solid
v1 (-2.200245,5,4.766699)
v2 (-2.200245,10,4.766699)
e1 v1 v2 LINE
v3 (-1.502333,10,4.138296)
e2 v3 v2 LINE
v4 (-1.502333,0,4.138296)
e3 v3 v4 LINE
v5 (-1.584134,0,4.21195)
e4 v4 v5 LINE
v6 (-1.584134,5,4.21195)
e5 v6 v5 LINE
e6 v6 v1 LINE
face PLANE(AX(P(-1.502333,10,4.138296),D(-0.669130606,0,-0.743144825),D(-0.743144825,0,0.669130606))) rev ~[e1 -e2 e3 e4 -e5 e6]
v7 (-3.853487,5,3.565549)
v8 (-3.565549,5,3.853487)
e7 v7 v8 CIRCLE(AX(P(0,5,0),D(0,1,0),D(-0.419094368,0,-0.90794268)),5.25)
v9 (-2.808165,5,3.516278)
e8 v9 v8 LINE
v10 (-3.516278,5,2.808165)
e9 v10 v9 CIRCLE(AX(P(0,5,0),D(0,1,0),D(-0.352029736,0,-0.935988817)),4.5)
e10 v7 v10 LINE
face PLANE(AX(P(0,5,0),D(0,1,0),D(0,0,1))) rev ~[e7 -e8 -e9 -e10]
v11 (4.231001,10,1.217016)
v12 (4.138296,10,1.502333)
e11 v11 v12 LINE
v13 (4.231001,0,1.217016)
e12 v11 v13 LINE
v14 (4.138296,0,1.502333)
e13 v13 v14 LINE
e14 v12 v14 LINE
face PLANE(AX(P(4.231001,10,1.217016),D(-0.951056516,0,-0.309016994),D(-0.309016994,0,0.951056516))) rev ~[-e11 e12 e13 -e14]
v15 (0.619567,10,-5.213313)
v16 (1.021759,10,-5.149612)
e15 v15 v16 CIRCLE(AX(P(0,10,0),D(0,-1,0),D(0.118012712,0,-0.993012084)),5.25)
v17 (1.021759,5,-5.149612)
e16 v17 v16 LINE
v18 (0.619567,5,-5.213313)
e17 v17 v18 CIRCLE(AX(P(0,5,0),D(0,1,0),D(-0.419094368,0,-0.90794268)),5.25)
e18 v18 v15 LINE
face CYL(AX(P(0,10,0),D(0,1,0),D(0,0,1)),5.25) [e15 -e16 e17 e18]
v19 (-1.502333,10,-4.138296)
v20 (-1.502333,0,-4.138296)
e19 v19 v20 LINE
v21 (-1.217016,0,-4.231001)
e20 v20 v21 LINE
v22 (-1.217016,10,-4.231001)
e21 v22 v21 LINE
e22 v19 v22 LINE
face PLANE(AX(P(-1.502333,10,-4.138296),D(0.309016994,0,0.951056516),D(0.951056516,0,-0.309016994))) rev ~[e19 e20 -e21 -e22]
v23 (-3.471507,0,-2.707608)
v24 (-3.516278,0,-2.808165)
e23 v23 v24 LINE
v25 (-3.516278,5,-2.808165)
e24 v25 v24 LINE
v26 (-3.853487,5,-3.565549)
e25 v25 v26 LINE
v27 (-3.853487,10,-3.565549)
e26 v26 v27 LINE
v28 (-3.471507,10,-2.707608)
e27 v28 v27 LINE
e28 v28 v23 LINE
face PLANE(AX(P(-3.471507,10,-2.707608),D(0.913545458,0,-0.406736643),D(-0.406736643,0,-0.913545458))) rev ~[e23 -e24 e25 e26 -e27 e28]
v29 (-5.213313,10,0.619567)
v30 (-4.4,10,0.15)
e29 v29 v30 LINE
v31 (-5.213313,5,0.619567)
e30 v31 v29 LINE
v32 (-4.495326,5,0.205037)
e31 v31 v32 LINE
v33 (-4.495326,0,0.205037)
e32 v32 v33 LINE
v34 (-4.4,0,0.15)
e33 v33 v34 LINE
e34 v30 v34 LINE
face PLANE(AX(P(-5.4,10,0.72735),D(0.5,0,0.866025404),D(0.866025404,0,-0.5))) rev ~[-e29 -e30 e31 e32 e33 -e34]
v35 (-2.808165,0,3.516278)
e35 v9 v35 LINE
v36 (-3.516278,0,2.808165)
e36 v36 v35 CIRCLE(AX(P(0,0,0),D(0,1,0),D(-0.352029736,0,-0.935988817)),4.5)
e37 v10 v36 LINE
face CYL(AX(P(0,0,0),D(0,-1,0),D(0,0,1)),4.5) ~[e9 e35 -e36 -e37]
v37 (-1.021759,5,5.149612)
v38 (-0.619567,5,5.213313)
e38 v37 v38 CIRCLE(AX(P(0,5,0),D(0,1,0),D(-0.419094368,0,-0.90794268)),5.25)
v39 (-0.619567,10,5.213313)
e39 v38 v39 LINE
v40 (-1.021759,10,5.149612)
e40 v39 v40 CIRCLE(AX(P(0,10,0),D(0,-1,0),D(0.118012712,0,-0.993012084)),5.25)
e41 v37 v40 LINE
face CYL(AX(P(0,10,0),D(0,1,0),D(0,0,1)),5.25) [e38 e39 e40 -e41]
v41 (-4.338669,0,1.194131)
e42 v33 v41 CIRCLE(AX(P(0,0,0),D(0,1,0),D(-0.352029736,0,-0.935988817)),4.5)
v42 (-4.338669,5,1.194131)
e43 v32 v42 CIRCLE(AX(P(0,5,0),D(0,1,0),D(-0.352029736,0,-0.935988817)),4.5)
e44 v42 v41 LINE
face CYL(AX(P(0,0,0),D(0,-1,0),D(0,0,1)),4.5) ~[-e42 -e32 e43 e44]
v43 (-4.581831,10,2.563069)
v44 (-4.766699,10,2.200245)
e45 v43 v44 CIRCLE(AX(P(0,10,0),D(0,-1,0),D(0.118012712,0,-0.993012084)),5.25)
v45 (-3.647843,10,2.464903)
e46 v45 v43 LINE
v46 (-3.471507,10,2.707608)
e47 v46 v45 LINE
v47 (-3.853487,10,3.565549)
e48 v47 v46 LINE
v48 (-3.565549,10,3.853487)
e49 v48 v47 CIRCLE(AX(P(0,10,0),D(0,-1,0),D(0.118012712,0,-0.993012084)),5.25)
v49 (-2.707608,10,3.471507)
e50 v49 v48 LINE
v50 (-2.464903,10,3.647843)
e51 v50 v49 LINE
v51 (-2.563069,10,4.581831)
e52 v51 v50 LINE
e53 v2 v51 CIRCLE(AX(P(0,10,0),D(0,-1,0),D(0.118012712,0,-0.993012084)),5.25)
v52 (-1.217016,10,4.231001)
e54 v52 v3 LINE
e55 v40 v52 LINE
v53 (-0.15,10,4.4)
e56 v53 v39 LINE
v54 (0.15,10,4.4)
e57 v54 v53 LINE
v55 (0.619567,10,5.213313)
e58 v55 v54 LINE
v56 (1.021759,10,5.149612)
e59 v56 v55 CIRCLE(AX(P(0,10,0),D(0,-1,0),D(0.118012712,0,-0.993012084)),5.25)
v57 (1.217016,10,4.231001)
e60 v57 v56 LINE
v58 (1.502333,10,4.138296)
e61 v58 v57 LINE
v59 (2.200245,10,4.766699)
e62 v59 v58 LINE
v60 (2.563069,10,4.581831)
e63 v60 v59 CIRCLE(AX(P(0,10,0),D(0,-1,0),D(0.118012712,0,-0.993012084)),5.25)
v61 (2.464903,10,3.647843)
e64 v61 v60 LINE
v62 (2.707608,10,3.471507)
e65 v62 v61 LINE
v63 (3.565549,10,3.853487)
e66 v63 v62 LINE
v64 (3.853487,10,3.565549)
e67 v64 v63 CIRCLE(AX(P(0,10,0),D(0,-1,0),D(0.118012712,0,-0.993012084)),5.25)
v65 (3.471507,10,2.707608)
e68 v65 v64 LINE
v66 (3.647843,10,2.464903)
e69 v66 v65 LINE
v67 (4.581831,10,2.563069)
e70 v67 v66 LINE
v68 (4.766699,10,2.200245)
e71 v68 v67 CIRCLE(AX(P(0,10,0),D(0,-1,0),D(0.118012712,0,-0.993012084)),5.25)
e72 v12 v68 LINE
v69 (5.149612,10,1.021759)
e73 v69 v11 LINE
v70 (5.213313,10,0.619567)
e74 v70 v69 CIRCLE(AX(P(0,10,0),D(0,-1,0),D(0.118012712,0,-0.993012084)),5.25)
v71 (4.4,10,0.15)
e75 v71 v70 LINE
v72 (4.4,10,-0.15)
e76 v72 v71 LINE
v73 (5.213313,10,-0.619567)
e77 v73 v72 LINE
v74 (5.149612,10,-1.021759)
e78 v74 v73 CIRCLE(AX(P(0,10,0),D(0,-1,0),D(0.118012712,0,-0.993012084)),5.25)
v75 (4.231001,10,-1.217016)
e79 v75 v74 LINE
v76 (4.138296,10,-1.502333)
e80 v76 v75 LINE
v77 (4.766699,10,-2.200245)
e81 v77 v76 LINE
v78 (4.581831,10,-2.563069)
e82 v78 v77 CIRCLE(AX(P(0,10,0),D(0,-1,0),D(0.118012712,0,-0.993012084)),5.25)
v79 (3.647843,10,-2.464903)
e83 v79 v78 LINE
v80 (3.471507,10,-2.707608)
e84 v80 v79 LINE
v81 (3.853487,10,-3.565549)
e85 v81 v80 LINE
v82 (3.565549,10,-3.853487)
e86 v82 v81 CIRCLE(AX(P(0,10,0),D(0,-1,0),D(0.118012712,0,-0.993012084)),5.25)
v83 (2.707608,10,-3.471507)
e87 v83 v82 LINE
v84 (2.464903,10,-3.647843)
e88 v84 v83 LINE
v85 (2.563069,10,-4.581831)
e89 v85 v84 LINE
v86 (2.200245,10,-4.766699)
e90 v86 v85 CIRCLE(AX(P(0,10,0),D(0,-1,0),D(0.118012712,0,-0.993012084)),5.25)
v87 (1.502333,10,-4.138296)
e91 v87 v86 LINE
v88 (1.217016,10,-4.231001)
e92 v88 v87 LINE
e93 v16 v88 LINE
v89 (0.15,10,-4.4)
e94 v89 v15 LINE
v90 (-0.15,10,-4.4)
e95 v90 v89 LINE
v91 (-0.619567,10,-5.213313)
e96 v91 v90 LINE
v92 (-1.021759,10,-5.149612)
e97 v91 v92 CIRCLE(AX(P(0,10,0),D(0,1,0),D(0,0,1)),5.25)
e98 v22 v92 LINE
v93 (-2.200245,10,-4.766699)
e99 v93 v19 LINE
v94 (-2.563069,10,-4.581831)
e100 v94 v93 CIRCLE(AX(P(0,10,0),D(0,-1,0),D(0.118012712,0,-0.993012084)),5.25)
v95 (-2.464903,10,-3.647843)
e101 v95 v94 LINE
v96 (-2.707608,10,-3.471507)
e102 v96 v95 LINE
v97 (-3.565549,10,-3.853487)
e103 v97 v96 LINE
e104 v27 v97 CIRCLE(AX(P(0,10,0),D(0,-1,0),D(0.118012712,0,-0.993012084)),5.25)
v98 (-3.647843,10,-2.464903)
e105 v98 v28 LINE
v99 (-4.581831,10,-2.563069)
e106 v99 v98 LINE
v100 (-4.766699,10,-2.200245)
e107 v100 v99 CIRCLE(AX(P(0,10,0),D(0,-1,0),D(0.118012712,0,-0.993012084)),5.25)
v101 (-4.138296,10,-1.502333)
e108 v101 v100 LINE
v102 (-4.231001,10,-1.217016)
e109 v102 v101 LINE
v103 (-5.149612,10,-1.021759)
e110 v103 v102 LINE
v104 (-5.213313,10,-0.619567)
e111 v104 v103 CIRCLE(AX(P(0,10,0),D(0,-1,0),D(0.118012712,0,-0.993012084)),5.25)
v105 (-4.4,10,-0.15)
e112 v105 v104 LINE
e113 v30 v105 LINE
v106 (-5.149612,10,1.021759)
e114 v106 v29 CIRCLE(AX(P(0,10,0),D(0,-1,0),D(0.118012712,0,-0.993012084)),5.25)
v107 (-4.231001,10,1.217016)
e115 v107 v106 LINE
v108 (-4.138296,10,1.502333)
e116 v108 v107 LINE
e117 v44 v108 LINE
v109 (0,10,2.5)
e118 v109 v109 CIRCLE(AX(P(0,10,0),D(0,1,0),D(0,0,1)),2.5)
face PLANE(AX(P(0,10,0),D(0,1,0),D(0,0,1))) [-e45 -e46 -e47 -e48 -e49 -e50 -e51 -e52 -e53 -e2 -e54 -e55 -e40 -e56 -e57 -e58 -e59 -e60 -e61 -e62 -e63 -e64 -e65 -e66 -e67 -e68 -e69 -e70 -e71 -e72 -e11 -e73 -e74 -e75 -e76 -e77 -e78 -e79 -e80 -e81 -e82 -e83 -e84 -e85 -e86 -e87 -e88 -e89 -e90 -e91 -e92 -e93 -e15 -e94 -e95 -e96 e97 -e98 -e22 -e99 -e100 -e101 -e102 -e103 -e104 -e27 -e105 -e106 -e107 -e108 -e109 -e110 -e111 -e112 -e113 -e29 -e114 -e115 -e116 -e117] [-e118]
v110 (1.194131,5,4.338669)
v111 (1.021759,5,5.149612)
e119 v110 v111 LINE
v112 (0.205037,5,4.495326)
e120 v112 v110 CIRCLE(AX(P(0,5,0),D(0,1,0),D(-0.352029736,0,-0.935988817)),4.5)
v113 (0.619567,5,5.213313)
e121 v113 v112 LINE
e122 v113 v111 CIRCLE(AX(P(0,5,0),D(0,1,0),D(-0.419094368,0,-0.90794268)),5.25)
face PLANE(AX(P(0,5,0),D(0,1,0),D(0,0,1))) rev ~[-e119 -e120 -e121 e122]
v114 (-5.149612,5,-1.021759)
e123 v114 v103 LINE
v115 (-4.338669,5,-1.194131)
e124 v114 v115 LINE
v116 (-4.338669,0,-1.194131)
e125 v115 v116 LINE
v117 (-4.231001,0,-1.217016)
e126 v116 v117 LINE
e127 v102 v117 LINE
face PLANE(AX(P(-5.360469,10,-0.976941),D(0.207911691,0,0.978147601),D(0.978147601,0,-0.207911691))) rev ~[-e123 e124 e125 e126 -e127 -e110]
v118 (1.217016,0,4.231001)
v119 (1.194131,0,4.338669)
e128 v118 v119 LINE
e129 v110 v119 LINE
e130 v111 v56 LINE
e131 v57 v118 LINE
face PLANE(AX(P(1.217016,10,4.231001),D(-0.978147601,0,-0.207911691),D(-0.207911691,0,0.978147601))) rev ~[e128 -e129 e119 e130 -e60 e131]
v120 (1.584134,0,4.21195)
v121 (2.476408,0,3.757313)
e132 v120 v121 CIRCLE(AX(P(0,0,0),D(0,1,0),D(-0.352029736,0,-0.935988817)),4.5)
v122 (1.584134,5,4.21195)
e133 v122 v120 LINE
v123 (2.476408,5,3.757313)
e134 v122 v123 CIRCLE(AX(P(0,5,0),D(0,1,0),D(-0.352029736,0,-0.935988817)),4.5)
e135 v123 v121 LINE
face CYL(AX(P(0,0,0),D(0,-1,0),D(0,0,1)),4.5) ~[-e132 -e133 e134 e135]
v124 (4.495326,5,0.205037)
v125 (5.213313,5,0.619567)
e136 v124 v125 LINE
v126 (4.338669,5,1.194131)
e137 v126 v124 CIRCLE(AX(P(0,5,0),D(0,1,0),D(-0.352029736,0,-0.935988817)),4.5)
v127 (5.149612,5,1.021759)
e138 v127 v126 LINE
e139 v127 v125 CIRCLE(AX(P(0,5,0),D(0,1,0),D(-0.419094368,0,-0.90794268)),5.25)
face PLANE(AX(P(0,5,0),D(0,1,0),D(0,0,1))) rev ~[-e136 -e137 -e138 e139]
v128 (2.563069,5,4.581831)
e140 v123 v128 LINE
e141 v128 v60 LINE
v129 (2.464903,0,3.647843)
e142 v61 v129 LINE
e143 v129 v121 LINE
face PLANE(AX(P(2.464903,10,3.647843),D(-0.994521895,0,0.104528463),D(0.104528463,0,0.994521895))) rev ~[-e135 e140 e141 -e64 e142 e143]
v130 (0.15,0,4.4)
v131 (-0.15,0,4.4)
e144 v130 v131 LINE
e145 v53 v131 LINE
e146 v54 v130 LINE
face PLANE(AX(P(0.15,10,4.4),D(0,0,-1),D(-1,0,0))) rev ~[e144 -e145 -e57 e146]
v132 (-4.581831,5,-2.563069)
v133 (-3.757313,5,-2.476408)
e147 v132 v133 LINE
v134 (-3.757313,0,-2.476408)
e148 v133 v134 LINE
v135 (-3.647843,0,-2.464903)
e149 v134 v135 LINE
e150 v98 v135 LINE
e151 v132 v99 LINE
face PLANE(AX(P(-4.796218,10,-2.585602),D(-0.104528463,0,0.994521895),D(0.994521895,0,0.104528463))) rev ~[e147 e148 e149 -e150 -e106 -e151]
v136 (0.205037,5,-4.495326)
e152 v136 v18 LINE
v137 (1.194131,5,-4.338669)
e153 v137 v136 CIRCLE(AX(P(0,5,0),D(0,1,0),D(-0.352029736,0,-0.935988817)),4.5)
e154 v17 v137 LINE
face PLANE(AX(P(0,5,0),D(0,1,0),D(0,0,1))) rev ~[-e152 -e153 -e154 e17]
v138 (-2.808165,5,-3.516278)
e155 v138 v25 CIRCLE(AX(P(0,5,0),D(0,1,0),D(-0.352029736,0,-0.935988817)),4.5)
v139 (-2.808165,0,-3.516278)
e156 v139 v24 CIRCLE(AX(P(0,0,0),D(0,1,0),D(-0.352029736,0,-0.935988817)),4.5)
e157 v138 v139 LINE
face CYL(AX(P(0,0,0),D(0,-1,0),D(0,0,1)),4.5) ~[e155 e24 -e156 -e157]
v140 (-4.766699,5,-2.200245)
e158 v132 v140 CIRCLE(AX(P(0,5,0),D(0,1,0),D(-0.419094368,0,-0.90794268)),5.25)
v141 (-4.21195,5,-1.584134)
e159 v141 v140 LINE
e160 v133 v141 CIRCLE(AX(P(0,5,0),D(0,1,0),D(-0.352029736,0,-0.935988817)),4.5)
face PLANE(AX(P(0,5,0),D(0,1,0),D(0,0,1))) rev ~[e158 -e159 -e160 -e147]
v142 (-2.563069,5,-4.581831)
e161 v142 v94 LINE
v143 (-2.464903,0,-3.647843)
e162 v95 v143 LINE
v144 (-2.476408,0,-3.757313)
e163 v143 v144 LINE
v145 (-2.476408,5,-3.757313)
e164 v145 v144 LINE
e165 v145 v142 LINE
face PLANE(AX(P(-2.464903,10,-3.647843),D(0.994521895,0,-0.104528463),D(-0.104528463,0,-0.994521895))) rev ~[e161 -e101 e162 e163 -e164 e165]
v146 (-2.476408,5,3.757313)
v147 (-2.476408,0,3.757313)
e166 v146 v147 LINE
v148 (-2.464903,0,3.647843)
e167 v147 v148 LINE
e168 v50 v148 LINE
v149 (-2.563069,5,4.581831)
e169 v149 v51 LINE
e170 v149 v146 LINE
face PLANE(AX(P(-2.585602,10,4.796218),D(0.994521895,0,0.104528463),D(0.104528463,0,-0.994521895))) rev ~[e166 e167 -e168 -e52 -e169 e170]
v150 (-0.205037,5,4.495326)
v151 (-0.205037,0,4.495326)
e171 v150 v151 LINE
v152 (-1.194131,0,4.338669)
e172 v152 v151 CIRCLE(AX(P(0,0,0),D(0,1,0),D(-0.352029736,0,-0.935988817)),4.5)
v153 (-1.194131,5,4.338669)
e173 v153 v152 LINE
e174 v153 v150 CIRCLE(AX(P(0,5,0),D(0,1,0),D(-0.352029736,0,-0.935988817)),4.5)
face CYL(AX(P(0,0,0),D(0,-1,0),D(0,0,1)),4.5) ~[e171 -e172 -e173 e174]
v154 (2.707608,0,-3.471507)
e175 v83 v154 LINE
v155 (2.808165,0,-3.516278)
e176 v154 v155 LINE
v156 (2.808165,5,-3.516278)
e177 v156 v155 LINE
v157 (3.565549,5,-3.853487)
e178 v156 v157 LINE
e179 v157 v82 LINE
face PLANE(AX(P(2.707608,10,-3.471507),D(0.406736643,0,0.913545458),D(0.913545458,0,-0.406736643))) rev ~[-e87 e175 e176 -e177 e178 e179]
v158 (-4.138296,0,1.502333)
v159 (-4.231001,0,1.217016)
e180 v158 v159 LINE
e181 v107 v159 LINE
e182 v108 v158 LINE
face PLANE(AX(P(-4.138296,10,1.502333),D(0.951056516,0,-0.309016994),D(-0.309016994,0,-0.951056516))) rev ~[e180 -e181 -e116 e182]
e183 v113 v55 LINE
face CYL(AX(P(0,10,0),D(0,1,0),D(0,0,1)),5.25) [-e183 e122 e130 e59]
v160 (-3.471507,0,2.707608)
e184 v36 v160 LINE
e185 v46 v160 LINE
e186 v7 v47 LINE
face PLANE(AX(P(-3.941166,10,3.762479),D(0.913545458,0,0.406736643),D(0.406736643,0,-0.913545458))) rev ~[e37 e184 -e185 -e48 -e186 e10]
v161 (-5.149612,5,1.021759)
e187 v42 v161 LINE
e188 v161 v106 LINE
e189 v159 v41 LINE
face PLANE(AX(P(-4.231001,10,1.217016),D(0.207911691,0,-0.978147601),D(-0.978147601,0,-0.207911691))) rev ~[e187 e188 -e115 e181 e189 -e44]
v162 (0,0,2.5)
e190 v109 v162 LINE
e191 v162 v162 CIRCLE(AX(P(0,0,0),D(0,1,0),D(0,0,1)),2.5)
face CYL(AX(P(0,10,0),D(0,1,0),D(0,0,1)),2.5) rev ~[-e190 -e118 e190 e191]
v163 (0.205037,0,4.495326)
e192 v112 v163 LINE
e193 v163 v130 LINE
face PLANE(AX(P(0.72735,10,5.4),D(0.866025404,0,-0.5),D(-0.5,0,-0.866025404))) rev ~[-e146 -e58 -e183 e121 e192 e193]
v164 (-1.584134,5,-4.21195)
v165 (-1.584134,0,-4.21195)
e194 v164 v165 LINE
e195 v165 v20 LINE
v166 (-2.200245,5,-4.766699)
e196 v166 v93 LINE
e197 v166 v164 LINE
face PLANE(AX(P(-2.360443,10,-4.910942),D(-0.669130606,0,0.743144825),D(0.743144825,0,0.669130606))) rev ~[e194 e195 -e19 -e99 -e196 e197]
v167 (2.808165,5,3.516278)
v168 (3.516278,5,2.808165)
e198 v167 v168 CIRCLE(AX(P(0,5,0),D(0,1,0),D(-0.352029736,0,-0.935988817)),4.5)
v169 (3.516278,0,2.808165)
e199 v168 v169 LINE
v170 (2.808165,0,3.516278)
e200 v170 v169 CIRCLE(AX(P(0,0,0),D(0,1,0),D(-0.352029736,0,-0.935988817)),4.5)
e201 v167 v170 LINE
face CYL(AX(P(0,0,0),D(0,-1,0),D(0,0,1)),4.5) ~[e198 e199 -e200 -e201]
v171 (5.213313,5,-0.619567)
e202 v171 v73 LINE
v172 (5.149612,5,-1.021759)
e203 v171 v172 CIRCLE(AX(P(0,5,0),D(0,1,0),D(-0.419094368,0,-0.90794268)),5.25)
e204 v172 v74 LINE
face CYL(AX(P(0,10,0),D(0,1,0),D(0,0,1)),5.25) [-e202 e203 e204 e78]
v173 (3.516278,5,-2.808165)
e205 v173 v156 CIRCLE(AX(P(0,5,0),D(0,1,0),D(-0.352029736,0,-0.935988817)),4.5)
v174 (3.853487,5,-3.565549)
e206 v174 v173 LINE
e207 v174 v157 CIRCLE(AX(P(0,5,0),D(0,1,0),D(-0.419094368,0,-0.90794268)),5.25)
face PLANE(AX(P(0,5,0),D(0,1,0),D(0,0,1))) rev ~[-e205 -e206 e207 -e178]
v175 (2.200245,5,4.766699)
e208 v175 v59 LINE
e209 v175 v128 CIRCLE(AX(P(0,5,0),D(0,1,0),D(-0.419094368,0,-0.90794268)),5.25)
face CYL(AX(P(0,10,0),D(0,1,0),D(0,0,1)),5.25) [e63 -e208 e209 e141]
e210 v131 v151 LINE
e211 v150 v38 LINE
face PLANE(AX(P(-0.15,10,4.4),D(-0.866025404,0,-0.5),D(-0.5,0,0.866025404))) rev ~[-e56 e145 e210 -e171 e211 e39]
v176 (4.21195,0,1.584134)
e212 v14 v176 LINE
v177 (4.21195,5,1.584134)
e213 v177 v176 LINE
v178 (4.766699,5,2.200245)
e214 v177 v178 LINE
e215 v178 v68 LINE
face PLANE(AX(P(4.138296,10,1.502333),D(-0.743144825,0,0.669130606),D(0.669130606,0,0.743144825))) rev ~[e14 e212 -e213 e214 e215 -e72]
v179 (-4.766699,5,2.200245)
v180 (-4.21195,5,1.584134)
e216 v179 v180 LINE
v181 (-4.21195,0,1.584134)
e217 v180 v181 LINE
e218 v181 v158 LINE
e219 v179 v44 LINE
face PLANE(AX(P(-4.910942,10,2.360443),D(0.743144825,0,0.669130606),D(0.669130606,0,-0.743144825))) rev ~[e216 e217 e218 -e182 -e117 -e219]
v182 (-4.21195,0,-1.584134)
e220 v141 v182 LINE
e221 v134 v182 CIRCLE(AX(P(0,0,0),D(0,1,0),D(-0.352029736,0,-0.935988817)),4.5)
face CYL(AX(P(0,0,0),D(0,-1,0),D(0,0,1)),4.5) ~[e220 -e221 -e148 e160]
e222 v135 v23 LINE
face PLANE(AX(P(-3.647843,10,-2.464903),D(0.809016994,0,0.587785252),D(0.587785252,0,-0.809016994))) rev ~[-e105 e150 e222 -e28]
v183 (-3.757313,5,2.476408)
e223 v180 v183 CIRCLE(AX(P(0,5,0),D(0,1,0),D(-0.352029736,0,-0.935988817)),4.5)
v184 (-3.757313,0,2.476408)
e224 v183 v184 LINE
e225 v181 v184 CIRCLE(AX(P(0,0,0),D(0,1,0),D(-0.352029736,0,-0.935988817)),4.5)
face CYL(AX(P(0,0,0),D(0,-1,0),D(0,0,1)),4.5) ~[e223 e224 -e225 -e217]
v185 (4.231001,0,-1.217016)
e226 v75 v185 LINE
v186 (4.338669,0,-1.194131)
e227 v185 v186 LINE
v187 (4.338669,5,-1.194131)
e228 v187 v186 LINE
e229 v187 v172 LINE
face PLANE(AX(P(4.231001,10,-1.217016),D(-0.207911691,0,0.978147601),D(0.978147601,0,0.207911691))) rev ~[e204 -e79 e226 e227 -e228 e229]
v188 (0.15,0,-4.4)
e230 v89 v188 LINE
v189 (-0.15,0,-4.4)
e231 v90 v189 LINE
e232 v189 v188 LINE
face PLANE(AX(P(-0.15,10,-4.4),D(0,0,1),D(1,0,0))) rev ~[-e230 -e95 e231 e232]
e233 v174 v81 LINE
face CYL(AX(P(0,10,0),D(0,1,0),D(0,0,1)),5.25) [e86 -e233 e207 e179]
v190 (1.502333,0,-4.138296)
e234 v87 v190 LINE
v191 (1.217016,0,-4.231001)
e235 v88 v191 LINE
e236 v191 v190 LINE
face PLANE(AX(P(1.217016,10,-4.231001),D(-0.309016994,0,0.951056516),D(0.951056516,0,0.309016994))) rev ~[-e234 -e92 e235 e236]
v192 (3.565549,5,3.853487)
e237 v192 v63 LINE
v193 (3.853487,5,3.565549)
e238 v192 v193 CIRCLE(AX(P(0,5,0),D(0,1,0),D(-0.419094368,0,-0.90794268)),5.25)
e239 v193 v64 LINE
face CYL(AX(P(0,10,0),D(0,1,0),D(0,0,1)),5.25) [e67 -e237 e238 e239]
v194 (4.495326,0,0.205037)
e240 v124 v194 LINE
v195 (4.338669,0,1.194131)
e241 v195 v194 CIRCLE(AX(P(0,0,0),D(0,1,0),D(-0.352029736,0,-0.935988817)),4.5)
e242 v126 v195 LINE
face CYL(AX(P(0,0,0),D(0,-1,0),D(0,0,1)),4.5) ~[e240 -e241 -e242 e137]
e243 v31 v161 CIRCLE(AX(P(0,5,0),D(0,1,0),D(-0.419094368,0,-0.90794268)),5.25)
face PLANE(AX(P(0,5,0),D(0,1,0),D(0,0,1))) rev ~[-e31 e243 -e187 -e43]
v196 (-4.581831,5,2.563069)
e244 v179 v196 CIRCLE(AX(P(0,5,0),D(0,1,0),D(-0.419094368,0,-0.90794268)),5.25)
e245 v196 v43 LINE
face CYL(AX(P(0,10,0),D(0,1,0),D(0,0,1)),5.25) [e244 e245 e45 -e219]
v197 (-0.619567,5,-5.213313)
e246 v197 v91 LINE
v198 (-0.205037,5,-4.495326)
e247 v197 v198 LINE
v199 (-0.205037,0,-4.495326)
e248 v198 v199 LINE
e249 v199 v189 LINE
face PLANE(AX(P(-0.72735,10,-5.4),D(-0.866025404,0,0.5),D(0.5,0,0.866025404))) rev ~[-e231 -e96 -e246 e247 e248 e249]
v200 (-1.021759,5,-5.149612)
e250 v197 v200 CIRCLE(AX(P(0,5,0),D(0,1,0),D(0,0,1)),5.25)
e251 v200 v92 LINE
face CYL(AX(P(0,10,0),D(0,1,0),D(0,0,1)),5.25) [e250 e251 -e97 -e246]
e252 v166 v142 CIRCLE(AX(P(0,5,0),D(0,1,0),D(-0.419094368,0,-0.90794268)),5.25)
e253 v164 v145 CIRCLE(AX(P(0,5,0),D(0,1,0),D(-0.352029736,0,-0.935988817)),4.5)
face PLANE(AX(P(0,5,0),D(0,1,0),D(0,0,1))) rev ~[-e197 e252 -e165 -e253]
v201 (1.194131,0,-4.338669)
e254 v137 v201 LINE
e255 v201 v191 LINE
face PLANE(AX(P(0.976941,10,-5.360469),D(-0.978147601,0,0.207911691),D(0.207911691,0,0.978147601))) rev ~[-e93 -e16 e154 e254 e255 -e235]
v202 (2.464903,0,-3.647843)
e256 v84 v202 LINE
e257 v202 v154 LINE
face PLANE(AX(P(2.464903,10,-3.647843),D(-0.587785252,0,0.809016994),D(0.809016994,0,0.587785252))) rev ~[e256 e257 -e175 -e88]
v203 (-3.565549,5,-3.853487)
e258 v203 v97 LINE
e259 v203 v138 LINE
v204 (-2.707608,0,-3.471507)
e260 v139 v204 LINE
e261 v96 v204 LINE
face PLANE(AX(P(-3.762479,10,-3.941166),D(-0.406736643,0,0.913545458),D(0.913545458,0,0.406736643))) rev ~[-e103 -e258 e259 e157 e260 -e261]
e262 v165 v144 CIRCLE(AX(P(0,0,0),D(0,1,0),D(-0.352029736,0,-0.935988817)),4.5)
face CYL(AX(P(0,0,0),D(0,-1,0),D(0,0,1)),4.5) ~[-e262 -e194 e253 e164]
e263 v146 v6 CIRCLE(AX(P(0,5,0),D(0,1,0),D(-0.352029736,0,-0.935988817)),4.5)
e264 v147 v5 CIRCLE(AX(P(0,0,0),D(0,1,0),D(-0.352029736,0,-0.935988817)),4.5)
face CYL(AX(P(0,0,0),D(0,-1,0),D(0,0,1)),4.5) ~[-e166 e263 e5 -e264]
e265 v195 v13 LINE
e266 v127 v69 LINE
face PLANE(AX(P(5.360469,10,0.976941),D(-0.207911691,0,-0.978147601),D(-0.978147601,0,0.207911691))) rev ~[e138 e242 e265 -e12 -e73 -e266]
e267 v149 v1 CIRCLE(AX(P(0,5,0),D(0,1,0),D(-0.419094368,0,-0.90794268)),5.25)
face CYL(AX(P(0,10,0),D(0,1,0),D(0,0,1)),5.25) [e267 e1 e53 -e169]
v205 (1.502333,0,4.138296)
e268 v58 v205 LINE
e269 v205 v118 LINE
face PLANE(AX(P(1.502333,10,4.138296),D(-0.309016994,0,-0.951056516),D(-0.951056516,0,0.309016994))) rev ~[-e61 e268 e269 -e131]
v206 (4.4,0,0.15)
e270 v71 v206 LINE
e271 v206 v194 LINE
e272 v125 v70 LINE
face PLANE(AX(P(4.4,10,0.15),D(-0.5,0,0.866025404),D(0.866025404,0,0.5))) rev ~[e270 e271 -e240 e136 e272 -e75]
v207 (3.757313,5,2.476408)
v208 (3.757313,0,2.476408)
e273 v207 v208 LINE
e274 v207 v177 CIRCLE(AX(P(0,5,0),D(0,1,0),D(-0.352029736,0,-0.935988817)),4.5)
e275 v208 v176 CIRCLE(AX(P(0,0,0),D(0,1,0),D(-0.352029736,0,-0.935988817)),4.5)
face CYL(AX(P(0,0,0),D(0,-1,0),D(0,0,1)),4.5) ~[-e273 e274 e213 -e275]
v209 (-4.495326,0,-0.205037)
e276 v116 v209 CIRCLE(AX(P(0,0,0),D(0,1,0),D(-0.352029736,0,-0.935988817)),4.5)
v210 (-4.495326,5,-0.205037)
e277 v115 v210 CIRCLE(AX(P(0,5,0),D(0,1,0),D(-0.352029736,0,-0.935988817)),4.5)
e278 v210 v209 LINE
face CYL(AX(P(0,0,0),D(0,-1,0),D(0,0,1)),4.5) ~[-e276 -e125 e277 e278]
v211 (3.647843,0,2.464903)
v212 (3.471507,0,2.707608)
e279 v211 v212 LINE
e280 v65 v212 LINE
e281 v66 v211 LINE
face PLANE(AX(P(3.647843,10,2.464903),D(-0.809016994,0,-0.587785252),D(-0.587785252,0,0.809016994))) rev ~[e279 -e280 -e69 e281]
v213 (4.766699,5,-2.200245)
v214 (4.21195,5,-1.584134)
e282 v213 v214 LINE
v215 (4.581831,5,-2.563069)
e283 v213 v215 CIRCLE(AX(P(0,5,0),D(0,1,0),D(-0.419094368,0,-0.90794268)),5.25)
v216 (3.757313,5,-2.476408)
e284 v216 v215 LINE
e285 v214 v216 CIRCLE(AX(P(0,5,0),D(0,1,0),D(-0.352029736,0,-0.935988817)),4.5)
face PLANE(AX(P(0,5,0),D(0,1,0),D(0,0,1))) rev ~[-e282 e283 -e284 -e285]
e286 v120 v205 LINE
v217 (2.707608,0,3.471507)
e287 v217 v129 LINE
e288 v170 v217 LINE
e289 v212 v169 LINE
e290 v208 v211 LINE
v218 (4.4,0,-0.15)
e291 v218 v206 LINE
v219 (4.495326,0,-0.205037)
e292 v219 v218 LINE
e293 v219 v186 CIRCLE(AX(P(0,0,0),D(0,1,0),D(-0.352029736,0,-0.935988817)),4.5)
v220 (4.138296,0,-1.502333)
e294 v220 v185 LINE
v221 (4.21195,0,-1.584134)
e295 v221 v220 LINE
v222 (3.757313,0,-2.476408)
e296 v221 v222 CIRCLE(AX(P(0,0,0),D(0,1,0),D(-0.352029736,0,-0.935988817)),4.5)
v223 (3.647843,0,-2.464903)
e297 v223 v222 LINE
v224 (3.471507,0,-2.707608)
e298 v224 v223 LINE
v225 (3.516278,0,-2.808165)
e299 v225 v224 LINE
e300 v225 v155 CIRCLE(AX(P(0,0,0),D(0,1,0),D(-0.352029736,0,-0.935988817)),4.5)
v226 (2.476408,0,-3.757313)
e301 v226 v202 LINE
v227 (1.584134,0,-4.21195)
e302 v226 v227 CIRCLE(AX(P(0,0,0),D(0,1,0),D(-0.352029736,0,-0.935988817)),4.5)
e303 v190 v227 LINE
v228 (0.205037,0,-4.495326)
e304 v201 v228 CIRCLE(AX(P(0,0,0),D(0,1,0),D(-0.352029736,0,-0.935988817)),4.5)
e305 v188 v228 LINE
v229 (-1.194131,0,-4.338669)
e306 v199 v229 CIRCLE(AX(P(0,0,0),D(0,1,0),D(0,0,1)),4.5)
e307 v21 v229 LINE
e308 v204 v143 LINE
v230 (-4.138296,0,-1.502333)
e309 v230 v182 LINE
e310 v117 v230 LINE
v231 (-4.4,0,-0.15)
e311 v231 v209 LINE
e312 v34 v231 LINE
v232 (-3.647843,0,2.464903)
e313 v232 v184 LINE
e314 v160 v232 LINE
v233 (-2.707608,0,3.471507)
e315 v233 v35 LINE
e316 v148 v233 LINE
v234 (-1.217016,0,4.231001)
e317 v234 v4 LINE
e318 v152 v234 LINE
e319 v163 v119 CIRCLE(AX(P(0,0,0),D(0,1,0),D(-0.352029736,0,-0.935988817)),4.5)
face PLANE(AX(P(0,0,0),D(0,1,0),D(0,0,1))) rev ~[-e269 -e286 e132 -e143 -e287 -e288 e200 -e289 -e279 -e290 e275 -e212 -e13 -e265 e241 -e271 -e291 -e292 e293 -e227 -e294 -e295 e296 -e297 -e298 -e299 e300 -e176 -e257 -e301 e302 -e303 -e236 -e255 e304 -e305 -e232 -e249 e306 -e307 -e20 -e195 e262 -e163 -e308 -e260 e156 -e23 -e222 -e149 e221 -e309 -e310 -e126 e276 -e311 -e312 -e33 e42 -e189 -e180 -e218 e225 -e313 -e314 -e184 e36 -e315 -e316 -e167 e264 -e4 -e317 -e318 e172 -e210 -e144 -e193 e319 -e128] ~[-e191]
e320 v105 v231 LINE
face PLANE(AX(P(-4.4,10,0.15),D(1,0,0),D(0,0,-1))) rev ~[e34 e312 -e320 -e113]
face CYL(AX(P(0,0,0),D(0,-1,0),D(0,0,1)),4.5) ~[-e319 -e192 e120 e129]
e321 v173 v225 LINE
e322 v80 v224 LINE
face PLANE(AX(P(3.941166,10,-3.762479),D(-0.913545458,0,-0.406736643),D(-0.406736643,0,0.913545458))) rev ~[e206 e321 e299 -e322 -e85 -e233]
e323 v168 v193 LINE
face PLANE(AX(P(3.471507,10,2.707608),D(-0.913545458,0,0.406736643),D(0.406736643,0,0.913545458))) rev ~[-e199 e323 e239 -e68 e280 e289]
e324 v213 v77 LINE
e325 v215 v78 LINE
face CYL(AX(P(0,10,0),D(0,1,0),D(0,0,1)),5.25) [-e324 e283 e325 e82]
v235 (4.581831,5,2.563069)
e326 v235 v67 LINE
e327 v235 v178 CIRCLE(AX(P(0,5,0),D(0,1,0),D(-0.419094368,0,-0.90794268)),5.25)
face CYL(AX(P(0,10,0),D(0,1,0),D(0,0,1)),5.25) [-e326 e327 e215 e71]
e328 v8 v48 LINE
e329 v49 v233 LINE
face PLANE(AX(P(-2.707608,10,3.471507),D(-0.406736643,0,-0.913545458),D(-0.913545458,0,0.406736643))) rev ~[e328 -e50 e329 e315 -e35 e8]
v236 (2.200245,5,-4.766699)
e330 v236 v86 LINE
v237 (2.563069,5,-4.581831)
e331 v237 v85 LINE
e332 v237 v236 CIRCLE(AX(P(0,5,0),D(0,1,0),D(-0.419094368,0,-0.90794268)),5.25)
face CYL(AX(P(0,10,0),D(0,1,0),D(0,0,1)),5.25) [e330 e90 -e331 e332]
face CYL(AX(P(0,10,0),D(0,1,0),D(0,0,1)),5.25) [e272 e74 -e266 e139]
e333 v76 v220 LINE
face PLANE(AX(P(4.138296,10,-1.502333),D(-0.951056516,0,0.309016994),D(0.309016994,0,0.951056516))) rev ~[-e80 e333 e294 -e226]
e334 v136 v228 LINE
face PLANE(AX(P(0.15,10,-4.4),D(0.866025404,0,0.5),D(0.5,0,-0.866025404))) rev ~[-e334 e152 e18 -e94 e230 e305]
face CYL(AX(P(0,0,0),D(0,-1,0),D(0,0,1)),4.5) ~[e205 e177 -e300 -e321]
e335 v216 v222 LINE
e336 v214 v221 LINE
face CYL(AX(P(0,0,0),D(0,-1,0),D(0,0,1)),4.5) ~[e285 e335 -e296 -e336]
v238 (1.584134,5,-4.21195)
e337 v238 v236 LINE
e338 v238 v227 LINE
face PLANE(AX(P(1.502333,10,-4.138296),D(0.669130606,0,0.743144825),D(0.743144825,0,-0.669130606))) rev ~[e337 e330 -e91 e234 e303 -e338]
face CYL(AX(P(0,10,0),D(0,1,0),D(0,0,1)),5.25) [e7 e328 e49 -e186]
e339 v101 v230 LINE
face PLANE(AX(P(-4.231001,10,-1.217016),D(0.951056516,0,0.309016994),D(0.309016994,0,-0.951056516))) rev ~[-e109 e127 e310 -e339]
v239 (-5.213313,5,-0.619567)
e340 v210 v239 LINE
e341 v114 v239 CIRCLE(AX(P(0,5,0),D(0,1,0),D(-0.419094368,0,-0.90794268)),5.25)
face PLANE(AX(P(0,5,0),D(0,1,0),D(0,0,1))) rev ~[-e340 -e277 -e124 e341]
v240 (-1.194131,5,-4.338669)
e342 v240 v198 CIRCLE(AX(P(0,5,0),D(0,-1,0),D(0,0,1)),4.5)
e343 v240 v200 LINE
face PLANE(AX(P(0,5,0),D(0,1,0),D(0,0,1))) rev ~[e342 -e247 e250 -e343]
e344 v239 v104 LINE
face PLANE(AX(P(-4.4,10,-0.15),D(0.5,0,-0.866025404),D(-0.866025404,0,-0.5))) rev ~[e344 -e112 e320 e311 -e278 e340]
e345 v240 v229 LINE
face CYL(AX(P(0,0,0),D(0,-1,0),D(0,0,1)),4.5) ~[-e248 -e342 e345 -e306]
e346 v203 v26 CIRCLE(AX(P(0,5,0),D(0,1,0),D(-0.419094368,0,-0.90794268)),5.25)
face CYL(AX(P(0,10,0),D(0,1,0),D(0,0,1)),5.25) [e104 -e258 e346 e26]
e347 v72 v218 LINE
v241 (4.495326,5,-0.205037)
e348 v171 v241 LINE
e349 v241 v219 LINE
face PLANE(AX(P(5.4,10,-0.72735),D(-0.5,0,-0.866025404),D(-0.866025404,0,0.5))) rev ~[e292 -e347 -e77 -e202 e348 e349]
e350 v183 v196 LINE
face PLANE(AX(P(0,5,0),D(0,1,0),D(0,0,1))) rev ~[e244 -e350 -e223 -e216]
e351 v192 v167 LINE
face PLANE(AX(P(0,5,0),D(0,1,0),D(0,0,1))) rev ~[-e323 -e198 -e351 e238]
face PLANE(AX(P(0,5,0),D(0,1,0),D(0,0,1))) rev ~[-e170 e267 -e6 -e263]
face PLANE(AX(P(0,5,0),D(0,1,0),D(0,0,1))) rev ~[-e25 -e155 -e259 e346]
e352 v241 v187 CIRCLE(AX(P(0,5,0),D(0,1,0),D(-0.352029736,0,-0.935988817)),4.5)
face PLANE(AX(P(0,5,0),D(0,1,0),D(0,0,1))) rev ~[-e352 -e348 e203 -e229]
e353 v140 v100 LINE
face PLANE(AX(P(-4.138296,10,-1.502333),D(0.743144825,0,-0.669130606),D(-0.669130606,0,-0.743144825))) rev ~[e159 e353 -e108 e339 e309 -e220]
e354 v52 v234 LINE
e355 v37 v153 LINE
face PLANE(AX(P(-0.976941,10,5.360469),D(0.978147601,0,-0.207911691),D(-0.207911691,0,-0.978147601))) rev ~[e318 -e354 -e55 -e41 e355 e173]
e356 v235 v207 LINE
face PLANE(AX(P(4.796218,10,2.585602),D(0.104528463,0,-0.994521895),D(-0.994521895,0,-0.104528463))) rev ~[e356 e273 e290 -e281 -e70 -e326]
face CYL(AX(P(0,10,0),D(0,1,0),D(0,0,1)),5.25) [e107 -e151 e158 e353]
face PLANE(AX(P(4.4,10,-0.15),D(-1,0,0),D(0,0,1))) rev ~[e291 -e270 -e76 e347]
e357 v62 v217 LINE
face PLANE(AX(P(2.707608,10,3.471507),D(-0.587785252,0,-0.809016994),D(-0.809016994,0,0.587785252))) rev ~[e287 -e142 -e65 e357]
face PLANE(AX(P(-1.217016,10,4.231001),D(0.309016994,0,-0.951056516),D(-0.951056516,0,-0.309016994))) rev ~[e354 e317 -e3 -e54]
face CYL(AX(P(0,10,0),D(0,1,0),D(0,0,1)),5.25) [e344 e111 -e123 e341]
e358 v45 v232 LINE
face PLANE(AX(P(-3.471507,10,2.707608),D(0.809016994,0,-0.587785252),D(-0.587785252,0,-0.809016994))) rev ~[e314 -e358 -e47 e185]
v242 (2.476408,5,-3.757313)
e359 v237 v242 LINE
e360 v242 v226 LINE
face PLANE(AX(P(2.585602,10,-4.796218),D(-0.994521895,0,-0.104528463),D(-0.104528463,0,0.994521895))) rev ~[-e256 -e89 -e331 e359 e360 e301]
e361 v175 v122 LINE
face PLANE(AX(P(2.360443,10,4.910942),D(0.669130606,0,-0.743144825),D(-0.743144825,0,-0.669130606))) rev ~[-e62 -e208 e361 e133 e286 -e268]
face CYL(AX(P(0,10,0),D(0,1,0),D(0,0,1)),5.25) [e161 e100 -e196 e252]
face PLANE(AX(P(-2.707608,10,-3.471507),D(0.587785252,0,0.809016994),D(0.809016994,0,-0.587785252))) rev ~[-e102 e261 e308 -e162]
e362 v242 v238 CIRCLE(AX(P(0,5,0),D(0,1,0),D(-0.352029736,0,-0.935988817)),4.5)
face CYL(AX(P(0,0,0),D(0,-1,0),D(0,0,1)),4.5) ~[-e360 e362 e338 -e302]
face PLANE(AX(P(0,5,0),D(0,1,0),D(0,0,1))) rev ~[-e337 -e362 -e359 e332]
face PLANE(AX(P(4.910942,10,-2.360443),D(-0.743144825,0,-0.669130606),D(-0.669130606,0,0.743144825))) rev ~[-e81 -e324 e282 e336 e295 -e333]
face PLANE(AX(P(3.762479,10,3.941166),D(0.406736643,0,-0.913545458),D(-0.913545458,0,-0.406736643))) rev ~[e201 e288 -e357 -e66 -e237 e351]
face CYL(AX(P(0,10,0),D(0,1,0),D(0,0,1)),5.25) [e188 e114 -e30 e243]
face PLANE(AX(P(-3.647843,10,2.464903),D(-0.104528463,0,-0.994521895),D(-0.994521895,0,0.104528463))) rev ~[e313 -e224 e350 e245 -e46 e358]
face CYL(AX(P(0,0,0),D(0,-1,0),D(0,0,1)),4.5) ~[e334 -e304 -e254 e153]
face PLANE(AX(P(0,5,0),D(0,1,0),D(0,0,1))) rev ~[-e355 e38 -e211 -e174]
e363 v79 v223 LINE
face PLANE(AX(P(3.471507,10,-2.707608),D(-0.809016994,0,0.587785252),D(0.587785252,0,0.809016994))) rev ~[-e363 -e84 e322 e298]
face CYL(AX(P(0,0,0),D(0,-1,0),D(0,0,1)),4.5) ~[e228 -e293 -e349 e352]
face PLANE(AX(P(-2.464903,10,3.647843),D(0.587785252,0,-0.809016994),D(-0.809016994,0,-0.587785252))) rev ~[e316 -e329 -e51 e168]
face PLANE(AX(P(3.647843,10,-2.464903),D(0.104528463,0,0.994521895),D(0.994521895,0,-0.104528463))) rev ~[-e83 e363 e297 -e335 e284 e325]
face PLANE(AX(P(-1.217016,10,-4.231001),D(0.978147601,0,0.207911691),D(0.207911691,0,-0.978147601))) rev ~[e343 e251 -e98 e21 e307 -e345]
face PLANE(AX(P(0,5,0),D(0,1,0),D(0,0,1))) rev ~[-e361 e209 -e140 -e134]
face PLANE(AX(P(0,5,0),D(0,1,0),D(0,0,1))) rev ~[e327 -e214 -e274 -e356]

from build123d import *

# Parameters (mm, degrees)
SKETCH_1_R               = 4.5
EXTRUDE_1_DEPTH          = 10
SKETCH_2_R               = 5.25
EXTRUDE_2_DEPTH          = 5
CUT_EXTRUDE_3_DEPTH      = 10
PATTERN_CIRCULAR_2_COUNT = 20
SKETCH_5_R               = 2.5
CUT_EXTRUDE_4_DEPTH      = 10


with BuildPart() as part:
    # 스케치1 → 보스-돌출1 (new body)
    with BuildSketch(Plane(origin=(0, 0, 0), x_dir=(1, 0, 0), z_dir=(0, 1, 0))):
        with Locations(Location((0, 0, 0), (0, 0, 270))):
            Circle(SKETCH_1_R)
    extrude(amount=EXTRUDE_1_DEPTH)

    # 스케치2 → 보스-돌출2 (add)
    with BuildSketch(Plane(origin=(0, 10, 0), x_dir=(1, 0, 0), z_dir=(0, 1, 0))):
        with Locations(Location((0, 0, 0), (0, 0, 270))):
            Circle(SKETCH_2_R)
    extrude(amount=-EXTRUDE_2_DEPTH)

    # 스케치4 → 컷-돌출3 (cut)
    with BuildSketch(Plane(origin=(0, 10, 0), x_dir=(1, 0, 0), z_dir=(0, 1, 0))):
        Polygon((0, 4.4), (0.15, 4.4), (0.727350269, 5.4), (-0.727350269, 5.4), (-0.15, 4.4), align=None)
    cut_extrude_3 = extrude(amount=-CUT_EXTRUDE_3_DEPTH, mode=Mode.SUBTRACT)

    # 원형 패턴2: 컷-돌출3 ×20 about axis
    pattern_circular_2_axis = Axis((0, 0, 0), (0, 1, 0))
    for i in range(1, PATTERN_CIRCULAR_2_COUNT):
        add(cut_extrude_3.rotate(pattern_circular_2_axis, i * 360 / PATTERN_CIRCULAR_2_COUNT), mode=Mode.SUBTRACT)

    # 스케치5 → 컷-돌출4 (cut)
    with BuildSketch(Plane(origin=(0, 10, 0), x_dir=(1, 0, 0), z_dir=(0, 1, 0))):
        with Locations(Location((0, 0, 0), (0, 0, 270))):
            Circle(SKETCH_5_R)
    extrude(amount=-CUT_EXTRUDE_4_DEPTH, mode=Mode.SUBTRACT)


solid = part.part
